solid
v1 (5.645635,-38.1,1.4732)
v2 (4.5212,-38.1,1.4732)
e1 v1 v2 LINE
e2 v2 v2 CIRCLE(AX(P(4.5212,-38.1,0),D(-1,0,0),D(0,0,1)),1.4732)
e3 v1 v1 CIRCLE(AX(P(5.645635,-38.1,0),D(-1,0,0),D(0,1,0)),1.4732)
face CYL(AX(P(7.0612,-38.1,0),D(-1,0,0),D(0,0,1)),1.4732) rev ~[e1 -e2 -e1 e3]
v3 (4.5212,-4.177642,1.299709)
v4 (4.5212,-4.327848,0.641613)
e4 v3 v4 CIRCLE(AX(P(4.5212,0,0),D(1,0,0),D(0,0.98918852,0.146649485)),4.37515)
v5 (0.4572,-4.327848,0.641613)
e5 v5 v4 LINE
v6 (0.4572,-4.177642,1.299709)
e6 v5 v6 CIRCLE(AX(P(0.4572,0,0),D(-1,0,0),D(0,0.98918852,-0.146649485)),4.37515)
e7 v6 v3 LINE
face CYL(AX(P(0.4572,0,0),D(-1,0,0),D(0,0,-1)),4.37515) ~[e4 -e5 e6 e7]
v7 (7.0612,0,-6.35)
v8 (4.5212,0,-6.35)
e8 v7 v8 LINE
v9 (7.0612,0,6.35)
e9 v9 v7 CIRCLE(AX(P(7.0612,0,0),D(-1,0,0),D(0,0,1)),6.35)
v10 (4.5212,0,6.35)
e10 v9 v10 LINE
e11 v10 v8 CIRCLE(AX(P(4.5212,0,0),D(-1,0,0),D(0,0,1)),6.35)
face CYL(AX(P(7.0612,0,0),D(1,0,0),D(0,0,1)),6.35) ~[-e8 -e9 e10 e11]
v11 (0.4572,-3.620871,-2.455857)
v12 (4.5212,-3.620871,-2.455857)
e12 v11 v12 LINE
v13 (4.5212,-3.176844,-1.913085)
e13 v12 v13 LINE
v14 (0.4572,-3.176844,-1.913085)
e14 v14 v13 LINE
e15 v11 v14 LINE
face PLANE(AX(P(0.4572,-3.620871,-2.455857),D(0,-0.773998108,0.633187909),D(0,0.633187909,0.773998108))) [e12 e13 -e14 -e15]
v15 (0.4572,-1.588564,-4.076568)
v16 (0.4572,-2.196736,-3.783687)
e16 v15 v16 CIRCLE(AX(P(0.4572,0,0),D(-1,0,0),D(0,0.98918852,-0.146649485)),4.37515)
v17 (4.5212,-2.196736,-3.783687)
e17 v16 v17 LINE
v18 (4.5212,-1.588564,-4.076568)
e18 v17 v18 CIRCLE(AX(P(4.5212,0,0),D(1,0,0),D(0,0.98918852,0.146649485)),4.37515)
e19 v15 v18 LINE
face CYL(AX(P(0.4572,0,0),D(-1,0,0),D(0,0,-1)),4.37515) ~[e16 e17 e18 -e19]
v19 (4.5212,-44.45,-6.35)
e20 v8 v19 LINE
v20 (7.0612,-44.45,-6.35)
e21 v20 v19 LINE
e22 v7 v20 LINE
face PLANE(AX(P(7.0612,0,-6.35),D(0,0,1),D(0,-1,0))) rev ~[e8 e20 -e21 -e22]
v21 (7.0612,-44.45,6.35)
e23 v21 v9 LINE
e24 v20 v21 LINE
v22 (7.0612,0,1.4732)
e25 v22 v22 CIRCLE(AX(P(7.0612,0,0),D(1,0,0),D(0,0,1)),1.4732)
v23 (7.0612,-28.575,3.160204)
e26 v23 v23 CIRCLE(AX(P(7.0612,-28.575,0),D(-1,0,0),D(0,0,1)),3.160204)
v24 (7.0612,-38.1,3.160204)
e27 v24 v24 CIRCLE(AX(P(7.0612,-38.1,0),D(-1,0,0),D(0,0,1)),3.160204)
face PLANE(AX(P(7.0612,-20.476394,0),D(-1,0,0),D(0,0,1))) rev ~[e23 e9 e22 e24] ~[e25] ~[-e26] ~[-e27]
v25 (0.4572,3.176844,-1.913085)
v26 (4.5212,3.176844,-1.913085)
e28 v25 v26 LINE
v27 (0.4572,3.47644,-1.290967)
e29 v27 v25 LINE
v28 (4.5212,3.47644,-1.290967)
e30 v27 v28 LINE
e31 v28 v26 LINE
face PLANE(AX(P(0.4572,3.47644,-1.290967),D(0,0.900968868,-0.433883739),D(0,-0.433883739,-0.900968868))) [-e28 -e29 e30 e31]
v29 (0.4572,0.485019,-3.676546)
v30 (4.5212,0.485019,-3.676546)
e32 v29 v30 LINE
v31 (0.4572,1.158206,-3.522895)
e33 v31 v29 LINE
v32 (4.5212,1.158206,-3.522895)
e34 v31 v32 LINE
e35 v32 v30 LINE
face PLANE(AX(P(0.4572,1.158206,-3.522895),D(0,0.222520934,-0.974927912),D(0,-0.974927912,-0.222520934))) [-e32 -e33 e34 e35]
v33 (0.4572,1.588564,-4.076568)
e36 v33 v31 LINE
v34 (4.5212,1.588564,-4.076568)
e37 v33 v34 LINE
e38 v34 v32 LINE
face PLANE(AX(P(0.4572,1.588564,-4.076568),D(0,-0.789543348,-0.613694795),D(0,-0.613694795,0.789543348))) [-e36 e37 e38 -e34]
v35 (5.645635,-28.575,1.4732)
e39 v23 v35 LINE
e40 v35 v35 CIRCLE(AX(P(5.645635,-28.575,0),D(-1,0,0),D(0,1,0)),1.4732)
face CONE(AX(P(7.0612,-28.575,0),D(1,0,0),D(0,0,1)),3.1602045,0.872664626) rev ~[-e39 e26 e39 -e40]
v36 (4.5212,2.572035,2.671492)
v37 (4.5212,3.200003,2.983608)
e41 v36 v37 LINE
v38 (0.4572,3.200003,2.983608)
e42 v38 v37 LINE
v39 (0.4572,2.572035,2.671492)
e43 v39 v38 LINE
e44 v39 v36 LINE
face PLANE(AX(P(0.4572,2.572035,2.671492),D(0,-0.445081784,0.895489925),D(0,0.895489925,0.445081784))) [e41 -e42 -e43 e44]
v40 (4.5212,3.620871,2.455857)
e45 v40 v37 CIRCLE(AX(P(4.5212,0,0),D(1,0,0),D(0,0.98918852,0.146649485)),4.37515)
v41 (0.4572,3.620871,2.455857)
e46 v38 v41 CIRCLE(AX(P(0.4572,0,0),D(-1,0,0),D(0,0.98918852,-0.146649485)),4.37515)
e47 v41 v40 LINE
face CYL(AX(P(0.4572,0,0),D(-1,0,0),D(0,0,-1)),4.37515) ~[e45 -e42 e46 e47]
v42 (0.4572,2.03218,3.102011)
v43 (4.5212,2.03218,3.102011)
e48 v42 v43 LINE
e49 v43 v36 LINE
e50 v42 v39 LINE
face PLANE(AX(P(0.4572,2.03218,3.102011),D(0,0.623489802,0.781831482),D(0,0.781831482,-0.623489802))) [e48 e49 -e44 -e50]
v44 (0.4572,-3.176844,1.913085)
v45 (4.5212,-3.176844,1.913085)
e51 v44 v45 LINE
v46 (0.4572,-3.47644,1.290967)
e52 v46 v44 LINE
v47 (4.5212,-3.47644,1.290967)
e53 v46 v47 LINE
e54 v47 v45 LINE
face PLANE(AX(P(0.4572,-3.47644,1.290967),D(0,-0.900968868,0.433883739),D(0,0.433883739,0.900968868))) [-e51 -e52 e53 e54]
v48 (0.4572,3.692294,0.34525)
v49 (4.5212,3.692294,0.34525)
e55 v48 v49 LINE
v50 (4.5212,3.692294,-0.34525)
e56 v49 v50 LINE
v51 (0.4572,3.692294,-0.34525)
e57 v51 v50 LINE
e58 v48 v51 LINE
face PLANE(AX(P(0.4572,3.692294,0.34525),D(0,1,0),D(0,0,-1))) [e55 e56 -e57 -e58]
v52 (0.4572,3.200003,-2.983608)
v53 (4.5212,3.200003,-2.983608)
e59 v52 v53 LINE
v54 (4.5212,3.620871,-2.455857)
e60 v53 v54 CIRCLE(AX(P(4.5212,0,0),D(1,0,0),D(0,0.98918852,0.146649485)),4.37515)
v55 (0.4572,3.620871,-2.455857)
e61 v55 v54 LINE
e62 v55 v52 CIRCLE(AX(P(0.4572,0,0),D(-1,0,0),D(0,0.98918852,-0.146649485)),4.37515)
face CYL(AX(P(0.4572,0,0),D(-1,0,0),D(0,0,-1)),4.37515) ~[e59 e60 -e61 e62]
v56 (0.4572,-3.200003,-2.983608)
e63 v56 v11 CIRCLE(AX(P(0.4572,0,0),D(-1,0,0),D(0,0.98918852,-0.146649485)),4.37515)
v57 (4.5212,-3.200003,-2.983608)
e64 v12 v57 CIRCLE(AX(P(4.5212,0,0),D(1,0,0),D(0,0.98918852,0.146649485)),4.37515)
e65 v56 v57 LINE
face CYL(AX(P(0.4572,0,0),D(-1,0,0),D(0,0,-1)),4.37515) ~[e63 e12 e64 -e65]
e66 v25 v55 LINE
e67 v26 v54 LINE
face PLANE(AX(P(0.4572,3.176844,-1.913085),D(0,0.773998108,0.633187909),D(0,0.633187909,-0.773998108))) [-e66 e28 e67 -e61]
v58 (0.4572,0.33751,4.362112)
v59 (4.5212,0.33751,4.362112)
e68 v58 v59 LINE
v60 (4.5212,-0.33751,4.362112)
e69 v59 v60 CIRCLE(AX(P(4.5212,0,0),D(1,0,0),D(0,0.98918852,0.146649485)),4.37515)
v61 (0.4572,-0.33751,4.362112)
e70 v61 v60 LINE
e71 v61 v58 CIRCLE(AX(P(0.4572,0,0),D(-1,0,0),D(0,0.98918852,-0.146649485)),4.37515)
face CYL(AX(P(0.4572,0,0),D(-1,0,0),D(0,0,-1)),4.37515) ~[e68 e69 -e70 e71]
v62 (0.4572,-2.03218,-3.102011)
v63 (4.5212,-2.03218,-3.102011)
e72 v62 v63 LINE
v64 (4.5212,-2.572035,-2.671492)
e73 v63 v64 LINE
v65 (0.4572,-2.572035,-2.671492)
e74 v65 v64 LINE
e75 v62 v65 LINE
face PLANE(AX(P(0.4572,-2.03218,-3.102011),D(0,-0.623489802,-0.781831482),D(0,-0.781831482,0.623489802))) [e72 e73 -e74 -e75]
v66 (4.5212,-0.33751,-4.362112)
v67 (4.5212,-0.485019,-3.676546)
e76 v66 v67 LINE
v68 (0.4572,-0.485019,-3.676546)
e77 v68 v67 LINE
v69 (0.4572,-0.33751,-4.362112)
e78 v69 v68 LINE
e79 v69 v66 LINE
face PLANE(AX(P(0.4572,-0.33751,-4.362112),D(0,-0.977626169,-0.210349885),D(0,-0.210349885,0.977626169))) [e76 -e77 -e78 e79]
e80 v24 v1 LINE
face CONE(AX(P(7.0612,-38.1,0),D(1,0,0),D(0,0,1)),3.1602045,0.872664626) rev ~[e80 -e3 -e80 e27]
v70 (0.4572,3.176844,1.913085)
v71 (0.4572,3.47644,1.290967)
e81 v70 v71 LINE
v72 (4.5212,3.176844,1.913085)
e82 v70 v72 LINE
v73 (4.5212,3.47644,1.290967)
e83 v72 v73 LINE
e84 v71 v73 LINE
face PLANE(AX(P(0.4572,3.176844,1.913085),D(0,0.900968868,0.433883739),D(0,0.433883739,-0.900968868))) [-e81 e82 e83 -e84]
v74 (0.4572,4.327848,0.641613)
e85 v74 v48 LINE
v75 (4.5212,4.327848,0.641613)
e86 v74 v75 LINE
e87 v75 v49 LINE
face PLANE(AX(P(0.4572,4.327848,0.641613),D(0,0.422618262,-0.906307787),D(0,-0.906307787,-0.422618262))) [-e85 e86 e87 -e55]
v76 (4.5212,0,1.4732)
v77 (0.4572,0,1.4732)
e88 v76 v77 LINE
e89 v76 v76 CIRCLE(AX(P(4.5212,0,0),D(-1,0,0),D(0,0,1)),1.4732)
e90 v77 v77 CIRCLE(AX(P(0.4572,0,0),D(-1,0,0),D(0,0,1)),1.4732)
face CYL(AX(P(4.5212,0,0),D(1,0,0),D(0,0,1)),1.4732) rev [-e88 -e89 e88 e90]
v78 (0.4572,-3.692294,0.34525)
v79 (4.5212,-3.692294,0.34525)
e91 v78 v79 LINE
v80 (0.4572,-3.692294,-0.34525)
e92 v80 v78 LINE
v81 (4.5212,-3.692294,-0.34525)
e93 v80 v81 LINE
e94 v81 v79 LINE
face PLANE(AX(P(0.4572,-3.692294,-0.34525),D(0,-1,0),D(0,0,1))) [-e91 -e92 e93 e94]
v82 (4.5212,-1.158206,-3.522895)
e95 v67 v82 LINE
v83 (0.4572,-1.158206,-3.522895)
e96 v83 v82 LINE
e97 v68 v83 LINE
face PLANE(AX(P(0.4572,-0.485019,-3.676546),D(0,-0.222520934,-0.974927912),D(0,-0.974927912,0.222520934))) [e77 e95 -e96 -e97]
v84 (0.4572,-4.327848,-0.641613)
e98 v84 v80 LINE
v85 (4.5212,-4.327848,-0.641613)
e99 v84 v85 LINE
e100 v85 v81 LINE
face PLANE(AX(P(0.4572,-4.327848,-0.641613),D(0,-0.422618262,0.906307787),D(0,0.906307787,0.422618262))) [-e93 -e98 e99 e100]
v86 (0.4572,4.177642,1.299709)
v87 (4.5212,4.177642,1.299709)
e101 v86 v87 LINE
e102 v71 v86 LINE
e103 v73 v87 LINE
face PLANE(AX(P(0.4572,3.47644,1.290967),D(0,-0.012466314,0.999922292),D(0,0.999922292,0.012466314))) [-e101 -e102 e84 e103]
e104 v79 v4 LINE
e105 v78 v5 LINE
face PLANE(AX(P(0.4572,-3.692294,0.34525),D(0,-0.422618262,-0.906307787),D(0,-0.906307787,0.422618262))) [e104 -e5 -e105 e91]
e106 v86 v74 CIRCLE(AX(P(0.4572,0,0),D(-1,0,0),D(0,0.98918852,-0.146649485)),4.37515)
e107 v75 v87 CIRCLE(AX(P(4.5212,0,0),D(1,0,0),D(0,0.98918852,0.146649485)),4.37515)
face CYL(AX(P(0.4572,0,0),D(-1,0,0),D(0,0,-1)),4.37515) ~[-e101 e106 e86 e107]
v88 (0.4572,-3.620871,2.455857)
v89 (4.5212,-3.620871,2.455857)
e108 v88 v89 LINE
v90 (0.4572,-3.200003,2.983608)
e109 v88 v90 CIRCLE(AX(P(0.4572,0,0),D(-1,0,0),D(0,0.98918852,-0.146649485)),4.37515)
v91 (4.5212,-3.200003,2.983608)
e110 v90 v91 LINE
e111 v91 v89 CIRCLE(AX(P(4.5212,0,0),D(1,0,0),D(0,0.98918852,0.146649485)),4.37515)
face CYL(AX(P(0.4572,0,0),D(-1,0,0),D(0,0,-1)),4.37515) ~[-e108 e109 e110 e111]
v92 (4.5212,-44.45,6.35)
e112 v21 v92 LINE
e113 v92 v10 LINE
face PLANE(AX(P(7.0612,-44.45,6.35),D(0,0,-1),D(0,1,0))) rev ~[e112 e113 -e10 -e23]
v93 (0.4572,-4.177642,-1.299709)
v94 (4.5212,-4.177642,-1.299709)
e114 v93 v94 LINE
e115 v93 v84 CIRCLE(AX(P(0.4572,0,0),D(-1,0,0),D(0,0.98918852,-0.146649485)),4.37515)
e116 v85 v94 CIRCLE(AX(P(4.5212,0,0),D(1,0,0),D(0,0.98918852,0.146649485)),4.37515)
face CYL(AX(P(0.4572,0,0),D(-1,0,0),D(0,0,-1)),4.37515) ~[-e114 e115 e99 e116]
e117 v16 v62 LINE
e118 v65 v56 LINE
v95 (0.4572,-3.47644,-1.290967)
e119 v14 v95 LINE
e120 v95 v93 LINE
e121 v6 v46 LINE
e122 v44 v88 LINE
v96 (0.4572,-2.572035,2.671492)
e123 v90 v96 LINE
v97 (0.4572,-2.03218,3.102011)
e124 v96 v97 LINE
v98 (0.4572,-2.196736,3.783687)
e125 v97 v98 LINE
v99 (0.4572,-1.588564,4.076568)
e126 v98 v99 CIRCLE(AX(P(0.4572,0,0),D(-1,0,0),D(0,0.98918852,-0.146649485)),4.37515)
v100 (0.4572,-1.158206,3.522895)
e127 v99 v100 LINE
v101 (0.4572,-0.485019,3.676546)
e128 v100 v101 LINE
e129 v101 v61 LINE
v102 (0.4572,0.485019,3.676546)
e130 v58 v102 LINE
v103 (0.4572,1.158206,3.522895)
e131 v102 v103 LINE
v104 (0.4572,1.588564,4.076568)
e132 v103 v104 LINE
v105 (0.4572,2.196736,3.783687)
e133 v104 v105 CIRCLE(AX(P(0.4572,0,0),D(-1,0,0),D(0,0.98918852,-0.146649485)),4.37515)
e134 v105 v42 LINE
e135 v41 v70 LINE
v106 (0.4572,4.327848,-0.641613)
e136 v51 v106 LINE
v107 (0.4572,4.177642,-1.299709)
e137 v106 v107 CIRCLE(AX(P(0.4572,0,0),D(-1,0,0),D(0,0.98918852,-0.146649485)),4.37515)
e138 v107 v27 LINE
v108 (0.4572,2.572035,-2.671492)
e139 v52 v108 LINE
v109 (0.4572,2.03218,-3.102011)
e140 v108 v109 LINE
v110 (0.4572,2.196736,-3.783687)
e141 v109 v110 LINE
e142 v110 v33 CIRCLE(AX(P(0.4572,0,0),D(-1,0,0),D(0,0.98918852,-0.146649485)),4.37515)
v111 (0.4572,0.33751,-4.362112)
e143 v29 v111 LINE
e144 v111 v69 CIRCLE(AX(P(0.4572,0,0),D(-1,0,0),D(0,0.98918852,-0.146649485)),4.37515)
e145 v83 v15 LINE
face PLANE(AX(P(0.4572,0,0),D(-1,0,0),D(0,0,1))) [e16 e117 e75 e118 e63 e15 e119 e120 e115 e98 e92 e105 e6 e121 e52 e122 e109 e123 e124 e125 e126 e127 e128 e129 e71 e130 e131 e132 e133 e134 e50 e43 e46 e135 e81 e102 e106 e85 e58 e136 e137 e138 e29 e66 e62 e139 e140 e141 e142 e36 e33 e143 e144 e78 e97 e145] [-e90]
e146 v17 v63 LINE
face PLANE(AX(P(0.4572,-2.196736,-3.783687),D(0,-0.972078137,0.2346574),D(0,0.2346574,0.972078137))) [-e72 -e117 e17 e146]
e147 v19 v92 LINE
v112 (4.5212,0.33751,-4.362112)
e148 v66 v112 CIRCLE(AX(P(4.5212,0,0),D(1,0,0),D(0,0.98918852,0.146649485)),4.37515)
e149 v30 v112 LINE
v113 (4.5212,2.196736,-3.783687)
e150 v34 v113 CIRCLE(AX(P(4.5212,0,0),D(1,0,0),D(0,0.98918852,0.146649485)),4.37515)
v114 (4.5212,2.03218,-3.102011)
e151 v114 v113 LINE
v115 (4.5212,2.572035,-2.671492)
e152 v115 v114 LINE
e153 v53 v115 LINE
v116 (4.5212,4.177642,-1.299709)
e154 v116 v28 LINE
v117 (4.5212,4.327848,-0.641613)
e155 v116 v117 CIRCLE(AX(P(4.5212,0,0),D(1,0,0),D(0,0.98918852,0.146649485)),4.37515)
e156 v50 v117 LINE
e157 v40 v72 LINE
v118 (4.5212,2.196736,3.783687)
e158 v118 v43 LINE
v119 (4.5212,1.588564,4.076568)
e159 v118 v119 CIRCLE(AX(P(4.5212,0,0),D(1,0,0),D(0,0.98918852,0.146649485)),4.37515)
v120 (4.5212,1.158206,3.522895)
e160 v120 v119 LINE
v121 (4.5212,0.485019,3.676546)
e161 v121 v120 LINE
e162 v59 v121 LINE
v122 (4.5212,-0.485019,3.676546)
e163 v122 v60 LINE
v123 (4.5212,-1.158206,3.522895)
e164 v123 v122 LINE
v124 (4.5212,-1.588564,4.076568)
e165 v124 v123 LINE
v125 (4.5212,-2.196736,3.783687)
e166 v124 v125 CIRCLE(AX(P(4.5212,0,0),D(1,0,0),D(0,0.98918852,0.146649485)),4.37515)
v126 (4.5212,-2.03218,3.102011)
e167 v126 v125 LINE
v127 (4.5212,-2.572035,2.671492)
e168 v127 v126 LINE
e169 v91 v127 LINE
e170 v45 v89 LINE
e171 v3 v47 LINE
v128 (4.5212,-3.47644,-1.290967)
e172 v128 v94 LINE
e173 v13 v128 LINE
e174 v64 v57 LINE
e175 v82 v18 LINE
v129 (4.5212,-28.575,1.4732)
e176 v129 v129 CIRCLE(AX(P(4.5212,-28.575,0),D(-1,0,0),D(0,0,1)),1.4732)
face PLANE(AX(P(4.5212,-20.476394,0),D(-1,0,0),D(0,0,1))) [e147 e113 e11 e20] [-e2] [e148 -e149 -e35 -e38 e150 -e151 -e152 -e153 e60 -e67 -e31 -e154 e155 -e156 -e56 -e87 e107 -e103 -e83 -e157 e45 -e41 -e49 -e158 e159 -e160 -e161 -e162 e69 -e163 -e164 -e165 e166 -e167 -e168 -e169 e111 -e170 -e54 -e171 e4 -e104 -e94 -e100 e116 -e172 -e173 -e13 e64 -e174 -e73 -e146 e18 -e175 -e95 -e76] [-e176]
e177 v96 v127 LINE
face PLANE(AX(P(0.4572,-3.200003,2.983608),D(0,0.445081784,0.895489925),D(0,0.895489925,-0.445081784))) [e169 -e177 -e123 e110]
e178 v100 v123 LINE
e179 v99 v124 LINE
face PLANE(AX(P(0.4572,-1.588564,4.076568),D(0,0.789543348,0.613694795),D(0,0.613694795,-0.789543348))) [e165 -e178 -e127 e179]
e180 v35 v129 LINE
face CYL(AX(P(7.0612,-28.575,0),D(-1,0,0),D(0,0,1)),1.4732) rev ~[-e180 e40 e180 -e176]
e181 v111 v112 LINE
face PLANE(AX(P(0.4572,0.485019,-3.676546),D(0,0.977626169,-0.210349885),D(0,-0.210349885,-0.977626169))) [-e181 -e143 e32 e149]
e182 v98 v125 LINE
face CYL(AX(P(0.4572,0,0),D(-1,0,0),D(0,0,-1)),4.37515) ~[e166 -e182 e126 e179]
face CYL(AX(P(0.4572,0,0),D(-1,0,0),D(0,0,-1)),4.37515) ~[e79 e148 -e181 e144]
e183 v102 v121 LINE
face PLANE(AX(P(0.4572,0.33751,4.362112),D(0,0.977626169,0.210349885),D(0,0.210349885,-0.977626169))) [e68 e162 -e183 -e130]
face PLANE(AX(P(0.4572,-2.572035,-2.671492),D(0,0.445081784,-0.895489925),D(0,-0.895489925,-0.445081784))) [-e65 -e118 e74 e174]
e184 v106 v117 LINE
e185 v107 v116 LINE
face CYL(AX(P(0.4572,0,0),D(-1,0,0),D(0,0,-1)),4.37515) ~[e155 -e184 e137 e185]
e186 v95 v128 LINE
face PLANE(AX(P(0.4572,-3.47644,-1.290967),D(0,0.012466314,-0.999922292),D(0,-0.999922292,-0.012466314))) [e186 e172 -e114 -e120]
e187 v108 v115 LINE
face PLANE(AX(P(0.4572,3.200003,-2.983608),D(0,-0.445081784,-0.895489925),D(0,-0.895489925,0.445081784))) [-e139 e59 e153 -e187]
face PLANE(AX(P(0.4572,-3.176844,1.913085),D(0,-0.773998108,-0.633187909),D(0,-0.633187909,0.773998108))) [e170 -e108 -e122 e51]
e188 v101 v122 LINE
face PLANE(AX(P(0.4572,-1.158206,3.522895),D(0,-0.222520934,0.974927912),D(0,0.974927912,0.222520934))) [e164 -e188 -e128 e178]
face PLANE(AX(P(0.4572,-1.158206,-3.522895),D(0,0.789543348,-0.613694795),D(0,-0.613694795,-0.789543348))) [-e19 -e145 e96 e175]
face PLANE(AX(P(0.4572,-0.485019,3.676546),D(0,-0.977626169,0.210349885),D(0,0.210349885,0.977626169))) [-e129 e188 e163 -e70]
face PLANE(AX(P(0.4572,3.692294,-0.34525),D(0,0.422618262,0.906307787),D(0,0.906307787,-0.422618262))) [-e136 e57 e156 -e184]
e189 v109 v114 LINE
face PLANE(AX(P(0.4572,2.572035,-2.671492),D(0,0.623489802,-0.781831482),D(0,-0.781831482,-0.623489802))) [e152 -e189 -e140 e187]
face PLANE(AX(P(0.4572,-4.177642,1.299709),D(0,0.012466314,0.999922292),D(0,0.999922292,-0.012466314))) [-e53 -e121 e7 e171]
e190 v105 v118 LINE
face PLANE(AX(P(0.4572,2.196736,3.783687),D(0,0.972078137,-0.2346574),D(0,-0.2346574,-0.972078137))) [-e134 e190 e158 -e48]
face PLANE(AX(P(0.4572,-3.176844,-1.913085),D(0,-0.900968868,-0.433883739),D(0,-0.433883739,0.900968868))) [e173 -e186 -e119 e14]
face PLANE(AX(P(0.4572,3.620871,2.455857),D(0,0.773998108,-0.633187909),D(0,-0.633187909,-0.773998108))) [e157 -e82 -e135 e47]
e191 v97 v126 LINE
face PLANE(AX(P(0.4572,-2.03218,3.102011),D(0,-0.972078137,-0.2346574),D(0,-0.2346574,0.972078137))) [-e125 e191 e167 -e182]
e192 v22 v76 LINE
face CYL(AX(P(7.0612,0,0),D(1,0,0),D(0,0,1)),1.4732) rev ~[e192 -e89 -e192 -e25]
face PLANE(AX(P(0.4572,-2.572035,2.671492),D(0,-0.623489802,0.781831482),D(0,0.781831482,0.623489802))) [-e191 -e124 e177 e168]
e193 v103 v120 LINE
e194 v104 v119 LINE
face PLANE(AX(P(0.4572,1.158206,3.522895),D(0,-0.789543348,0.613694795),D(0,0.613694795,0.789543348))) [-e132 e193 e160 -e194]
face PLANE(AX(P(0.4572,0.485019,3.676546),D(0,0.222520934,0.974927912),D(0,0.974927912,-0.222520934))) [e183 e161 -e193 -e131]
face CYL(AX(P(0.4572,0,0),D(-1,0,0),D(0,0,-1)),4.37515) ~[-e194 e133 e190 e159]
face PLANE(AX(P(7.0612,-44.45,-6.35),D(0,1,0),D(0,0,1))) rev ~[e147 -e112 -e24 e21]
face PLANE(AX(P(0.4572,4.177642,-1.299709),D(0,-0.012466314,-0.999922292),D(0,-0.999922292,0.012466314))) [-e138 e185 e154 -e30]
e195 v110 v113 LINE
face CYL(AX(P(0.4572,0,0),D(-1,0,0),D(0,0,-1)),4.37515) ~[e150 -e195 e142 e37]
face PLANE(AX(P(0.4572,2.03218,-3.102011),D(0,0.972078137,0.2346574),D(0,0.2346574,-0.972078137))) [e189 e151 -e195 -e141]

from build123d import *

# Parameters (mm, degrees)
SKETCH4_R                                         = 4.5339
SKETCH4_R_2                                       = 4.37515
CUT_EXTRUDE2_DEPTH                                = 4.064
CUT_EXTRUDE1_DEPTH                                = 4.064
CIRPATTERN1_COUNT                                 = 14
SKETCH6_R                                         = 1.5875
CUT_EXTRUDE3_DEPTH                                = 12.02520933
CUT_EXTRUDE4_DEPTH                                = 1.016
SKETCH11_R                                        = 6.731
CUT_EXTRUDE6_DEPTH                                = 2.54
SKETCH13_R                                        = 9.525
CUT_EXTRUDE7_DEPTH                                = 12.262802402
BOSS_EXTRUDE2_START                               = -4.064
SKETCH17_R                                        = 1.5875
SKETCH17_R_2                                      = 1.4732
BOSS_EXTRUDE2_DEPTH                               = 4.064
BOSS_EXTRUDE1_START                               = 2.54
SKETCH12_R                                        = 1.4732
BOSS_EXTRUDE1_DEPTH                               = 2.54
CSK_FOR_4_FLAT_HEAD_MACHINE_SCREW_100_D           = 2.9464
CSK_FOR_4_FLAT_HEAD_MACHINE_SCREW_100_CSINK_D     = 6.320409
CSK_FOR_4_FLAT_HEAD_MACHINE_SCREW_100_CSINK_ANGLE = 100


with BuildPart() as part:
    # Sketch1 → Revolve1 (revolve)
    with BuildSketch(Plane.XY, mode=Mode.PRIVATE) as revolve1_sk:
        with BuildLine():
            Line((-5.5626, 1.5875), (5.5626, 1.5875))
            Line((5.5626, 1.5875), (5.5626, 6.731))
            Line((5.5626, 6.731), (5.0419, 6.731))
            ThreePointArc((5.0419, 6.731), (4.654552953, 5.958878742), (4.5212, 5.1054))
            Line((4.5212, 5.1054), (4.5212, 4.5339))
            Line((4.5212, 4.5339), (0.4572, 4.5339))
            Line((0.4572, 4.5339), (0.4572, 5.6769))
            Line((0.4572, 5.6769), (-0.5969, 6.731))
            Line((-0.5969, 6.731), (-5.5626, 6.731))
            Line((-5.5626, 6.731), (-5.5626, 1.5875))
        make_face()
    revolve(revolve1_sk.sketch.rotate(Axis((-5.5626, 0, 0), (1, 0, 0)), 90), axis=Axis((-5.5626, 0, 0), (1, 0, 0)))

    # Sketch4 → Cut-Extrude2 (cut)
    with BuildSketch(Plane(origin=(0.4572, 0, 0), x_dir=(0, 0, -1), z_dir=(1, 0, 0))):
        Circle(SKETCH4_R)
        Circle(SKETCH4_R_2, mode=Mode.SUBTRACT)
    extrude(amount=CUT_EXTRUDE2_DEPTH, mode=Mode.SUBTRACT)

    # Sketch3 → Cut-Extrude1 (cut)
    with BuildSketch(Plane(origin=(0.4572, 0, 0), x_dir=(0, 0, -1), z_dir=(1, 0, 0))):
        with BuildLine():
            Line((-0.641613493, 4.327848154), (-0.345249615, 3.692293767))
            Line((-0.345249615, 3.692293767), (0.345249615, 3.692293767))
            Line((0.345249615, 3.692293767), (0.641613493, 4.327848154))
            ThreePointArc((0.641613493, 4.327848154), (0, 4.37515), (-0.641613493, 4.327848154))
        make_face()
    cut_extrude1 = extrude(amount=CUT_EXTRUDE1_DEPTH, mode=Mode.SUBTRACT)

    # CirPattern1: Cut-Extrude1 ×14 about axis
    cirpattern1_axis = Axis((0, 0, 0), (1, 0, 0))
    for i in range(1, CIRPATTERN1_COUNT):
        add(cut_extrude1.rotate(cirpattern1_axis, i * 360 / CIRPATTERN1_COUNT), mode=Mode.SUBTRACT)

    # Sketch6 → Cut-Extrude3 (cut, through all)
    with BuildSketch(Plane(origin=(0, 0, 0), x_dir=(1, 0, 0), z_dir=(0, 1, 0))):
        with Locations(Location((-2.5527, 0, 0), (0, 0, 90))):
            Circle(SKETCH6_R)
    extrude(amount=CUT_EXTRUDE3_DEPTH, mode=Mode.SUBTRACT)

    # Sketch11 → Cut-Extrude6 (cut)
    with BuildSketch(Plane.ZY.offset(-4.5212)):
        Circle(SKETCH11_R)
    extrude(amount=-CUT_EXTRUDE6_DEPTH, mode=Mode.SUBTRACT)


with BuildPart() as body_2:
    # Sketch7 → Revolve2 (revolve)
    with BuildSketch(Plane.XY, mode=Mode.PRIVATE) as revolve2_sk:
        Polygon((-3.7211, 6.731), (-2.5527, 6.731), (-2.5527, 1.9685), (-3.7211, 1.9685), (-3.9751, 2.2225), (-3.9751, 6.477), align=None)
    revolve(revolve2_sk.sketch.rotate(Axis((-2.5527, 1.9685, 0), (0, 1, 0)), 270), axis=Axis((-2.5527, 1.9685, 0), (0, 1, 0)))

    # Sketch8 → Cut-Extrude4 (cut)
    with BuildSketch(Plane(origin=(0, 6.731, 0), x_dir=(1, 0, 0), z_dir=(0, 1, 0))):
        Polygon((-2.5527, 0.821223023), (-3.2639, 0.410611511), (-3.2639, -0.410611511), (-2.5527, -0.821223023), (-1.8415, -0.410611511), (-1.8415, 0.410611511), align=None)
    extrude(amount=-CUT_EXTRUDE4_DEPTH, mode=Mode.SUBTRACT)


with BuildPart() as cut_extrude7_tool:
    # Sketch13 → Cut-Extrude7 (new, through all)
    with BuildSketch(Plane(origin=(0.4572, 0, 0), x_dir=(0, 0, -1), z_dir=(1, 0, 0))):
        Circle(SKETCH13_R)
    extrude(amount=-CUT_EXTRUDE7_DEPTH)


with BuildPart() as part_1:
    add(part.part)

    # Cut-Extrude7: cut by cut_extrude7_tool
    add(cut_extrude7_tool.part, mode=Mode.SUBTRACT)

    # Sketch17 → Boss-Extrude2 (add)
    with BuildSketch(Plane.ZY.offset(-0.4572).offset(BOSS_EXTRUDE2_START)):
        Circle(SKETCH17_R)
        Circle(SKETCH17_R_2, mode=Mode.SUBTRACT)
    extrude(amount=BOSS_EXTRUDE2_DEPTH)

    # Sketch12 → Boss-Extrude1 (add)
    with BuildSketch(Plane(origin=(4.5212, 0, 0), x_dir=(0, 0, -1), z_dir=(1, 0, 0)).offset(BOSS_EXTRUDE1_START)):
        with BuildLine():
            Line((6.35, 0), (6.35, -44.45))
            Line((6.35, -44.45), (-6.35, -44.45))
            Line((-6.35, -44.45), (-6.35, 0))
            ThreePointArc((-6.35, 0), (0, 6.35), (6.35, 0))
        make_face()
        with Locations(Location((0, 0, 0), (0, 0, 180))):
            Circle(SKETCH12_R, mode=Mode.SUBTRACT)
    extrude(amount=-BOSS_EXTRUDE1_DEPTH)

    # CSK for #4 Flat Head Machine Screw (100)1 (through all)
    with Locations(Plane(origin=(7.0612, 0, 0), x_dir=(0, 0, -1), z_dir=(1, 0, 0))):
        with Locations((0, -28.575), (0, -38.1)):
            CounterSinkHole(CSK_FOR_4_FLAT_HEAD_MACHINE_SCREW_100_D / 2, CSK_FOR_4_FLAT_HEAD_MACHINE_SCREW_100_CSINK_D / 2, counter_sink_angle=CSK_FOR_4_FLAT_HEAD_MACHINE_SCREW_100_CSINK_ANGLE)


with BuildPart() as body_2_1:
    add(body_2.part)

    # Cut-Extrude7: cut by cut_extrude7_tool
    add(cut_extrude7_tool.part, mode=Mode.SUBTRACT)


solid = part_1.part
